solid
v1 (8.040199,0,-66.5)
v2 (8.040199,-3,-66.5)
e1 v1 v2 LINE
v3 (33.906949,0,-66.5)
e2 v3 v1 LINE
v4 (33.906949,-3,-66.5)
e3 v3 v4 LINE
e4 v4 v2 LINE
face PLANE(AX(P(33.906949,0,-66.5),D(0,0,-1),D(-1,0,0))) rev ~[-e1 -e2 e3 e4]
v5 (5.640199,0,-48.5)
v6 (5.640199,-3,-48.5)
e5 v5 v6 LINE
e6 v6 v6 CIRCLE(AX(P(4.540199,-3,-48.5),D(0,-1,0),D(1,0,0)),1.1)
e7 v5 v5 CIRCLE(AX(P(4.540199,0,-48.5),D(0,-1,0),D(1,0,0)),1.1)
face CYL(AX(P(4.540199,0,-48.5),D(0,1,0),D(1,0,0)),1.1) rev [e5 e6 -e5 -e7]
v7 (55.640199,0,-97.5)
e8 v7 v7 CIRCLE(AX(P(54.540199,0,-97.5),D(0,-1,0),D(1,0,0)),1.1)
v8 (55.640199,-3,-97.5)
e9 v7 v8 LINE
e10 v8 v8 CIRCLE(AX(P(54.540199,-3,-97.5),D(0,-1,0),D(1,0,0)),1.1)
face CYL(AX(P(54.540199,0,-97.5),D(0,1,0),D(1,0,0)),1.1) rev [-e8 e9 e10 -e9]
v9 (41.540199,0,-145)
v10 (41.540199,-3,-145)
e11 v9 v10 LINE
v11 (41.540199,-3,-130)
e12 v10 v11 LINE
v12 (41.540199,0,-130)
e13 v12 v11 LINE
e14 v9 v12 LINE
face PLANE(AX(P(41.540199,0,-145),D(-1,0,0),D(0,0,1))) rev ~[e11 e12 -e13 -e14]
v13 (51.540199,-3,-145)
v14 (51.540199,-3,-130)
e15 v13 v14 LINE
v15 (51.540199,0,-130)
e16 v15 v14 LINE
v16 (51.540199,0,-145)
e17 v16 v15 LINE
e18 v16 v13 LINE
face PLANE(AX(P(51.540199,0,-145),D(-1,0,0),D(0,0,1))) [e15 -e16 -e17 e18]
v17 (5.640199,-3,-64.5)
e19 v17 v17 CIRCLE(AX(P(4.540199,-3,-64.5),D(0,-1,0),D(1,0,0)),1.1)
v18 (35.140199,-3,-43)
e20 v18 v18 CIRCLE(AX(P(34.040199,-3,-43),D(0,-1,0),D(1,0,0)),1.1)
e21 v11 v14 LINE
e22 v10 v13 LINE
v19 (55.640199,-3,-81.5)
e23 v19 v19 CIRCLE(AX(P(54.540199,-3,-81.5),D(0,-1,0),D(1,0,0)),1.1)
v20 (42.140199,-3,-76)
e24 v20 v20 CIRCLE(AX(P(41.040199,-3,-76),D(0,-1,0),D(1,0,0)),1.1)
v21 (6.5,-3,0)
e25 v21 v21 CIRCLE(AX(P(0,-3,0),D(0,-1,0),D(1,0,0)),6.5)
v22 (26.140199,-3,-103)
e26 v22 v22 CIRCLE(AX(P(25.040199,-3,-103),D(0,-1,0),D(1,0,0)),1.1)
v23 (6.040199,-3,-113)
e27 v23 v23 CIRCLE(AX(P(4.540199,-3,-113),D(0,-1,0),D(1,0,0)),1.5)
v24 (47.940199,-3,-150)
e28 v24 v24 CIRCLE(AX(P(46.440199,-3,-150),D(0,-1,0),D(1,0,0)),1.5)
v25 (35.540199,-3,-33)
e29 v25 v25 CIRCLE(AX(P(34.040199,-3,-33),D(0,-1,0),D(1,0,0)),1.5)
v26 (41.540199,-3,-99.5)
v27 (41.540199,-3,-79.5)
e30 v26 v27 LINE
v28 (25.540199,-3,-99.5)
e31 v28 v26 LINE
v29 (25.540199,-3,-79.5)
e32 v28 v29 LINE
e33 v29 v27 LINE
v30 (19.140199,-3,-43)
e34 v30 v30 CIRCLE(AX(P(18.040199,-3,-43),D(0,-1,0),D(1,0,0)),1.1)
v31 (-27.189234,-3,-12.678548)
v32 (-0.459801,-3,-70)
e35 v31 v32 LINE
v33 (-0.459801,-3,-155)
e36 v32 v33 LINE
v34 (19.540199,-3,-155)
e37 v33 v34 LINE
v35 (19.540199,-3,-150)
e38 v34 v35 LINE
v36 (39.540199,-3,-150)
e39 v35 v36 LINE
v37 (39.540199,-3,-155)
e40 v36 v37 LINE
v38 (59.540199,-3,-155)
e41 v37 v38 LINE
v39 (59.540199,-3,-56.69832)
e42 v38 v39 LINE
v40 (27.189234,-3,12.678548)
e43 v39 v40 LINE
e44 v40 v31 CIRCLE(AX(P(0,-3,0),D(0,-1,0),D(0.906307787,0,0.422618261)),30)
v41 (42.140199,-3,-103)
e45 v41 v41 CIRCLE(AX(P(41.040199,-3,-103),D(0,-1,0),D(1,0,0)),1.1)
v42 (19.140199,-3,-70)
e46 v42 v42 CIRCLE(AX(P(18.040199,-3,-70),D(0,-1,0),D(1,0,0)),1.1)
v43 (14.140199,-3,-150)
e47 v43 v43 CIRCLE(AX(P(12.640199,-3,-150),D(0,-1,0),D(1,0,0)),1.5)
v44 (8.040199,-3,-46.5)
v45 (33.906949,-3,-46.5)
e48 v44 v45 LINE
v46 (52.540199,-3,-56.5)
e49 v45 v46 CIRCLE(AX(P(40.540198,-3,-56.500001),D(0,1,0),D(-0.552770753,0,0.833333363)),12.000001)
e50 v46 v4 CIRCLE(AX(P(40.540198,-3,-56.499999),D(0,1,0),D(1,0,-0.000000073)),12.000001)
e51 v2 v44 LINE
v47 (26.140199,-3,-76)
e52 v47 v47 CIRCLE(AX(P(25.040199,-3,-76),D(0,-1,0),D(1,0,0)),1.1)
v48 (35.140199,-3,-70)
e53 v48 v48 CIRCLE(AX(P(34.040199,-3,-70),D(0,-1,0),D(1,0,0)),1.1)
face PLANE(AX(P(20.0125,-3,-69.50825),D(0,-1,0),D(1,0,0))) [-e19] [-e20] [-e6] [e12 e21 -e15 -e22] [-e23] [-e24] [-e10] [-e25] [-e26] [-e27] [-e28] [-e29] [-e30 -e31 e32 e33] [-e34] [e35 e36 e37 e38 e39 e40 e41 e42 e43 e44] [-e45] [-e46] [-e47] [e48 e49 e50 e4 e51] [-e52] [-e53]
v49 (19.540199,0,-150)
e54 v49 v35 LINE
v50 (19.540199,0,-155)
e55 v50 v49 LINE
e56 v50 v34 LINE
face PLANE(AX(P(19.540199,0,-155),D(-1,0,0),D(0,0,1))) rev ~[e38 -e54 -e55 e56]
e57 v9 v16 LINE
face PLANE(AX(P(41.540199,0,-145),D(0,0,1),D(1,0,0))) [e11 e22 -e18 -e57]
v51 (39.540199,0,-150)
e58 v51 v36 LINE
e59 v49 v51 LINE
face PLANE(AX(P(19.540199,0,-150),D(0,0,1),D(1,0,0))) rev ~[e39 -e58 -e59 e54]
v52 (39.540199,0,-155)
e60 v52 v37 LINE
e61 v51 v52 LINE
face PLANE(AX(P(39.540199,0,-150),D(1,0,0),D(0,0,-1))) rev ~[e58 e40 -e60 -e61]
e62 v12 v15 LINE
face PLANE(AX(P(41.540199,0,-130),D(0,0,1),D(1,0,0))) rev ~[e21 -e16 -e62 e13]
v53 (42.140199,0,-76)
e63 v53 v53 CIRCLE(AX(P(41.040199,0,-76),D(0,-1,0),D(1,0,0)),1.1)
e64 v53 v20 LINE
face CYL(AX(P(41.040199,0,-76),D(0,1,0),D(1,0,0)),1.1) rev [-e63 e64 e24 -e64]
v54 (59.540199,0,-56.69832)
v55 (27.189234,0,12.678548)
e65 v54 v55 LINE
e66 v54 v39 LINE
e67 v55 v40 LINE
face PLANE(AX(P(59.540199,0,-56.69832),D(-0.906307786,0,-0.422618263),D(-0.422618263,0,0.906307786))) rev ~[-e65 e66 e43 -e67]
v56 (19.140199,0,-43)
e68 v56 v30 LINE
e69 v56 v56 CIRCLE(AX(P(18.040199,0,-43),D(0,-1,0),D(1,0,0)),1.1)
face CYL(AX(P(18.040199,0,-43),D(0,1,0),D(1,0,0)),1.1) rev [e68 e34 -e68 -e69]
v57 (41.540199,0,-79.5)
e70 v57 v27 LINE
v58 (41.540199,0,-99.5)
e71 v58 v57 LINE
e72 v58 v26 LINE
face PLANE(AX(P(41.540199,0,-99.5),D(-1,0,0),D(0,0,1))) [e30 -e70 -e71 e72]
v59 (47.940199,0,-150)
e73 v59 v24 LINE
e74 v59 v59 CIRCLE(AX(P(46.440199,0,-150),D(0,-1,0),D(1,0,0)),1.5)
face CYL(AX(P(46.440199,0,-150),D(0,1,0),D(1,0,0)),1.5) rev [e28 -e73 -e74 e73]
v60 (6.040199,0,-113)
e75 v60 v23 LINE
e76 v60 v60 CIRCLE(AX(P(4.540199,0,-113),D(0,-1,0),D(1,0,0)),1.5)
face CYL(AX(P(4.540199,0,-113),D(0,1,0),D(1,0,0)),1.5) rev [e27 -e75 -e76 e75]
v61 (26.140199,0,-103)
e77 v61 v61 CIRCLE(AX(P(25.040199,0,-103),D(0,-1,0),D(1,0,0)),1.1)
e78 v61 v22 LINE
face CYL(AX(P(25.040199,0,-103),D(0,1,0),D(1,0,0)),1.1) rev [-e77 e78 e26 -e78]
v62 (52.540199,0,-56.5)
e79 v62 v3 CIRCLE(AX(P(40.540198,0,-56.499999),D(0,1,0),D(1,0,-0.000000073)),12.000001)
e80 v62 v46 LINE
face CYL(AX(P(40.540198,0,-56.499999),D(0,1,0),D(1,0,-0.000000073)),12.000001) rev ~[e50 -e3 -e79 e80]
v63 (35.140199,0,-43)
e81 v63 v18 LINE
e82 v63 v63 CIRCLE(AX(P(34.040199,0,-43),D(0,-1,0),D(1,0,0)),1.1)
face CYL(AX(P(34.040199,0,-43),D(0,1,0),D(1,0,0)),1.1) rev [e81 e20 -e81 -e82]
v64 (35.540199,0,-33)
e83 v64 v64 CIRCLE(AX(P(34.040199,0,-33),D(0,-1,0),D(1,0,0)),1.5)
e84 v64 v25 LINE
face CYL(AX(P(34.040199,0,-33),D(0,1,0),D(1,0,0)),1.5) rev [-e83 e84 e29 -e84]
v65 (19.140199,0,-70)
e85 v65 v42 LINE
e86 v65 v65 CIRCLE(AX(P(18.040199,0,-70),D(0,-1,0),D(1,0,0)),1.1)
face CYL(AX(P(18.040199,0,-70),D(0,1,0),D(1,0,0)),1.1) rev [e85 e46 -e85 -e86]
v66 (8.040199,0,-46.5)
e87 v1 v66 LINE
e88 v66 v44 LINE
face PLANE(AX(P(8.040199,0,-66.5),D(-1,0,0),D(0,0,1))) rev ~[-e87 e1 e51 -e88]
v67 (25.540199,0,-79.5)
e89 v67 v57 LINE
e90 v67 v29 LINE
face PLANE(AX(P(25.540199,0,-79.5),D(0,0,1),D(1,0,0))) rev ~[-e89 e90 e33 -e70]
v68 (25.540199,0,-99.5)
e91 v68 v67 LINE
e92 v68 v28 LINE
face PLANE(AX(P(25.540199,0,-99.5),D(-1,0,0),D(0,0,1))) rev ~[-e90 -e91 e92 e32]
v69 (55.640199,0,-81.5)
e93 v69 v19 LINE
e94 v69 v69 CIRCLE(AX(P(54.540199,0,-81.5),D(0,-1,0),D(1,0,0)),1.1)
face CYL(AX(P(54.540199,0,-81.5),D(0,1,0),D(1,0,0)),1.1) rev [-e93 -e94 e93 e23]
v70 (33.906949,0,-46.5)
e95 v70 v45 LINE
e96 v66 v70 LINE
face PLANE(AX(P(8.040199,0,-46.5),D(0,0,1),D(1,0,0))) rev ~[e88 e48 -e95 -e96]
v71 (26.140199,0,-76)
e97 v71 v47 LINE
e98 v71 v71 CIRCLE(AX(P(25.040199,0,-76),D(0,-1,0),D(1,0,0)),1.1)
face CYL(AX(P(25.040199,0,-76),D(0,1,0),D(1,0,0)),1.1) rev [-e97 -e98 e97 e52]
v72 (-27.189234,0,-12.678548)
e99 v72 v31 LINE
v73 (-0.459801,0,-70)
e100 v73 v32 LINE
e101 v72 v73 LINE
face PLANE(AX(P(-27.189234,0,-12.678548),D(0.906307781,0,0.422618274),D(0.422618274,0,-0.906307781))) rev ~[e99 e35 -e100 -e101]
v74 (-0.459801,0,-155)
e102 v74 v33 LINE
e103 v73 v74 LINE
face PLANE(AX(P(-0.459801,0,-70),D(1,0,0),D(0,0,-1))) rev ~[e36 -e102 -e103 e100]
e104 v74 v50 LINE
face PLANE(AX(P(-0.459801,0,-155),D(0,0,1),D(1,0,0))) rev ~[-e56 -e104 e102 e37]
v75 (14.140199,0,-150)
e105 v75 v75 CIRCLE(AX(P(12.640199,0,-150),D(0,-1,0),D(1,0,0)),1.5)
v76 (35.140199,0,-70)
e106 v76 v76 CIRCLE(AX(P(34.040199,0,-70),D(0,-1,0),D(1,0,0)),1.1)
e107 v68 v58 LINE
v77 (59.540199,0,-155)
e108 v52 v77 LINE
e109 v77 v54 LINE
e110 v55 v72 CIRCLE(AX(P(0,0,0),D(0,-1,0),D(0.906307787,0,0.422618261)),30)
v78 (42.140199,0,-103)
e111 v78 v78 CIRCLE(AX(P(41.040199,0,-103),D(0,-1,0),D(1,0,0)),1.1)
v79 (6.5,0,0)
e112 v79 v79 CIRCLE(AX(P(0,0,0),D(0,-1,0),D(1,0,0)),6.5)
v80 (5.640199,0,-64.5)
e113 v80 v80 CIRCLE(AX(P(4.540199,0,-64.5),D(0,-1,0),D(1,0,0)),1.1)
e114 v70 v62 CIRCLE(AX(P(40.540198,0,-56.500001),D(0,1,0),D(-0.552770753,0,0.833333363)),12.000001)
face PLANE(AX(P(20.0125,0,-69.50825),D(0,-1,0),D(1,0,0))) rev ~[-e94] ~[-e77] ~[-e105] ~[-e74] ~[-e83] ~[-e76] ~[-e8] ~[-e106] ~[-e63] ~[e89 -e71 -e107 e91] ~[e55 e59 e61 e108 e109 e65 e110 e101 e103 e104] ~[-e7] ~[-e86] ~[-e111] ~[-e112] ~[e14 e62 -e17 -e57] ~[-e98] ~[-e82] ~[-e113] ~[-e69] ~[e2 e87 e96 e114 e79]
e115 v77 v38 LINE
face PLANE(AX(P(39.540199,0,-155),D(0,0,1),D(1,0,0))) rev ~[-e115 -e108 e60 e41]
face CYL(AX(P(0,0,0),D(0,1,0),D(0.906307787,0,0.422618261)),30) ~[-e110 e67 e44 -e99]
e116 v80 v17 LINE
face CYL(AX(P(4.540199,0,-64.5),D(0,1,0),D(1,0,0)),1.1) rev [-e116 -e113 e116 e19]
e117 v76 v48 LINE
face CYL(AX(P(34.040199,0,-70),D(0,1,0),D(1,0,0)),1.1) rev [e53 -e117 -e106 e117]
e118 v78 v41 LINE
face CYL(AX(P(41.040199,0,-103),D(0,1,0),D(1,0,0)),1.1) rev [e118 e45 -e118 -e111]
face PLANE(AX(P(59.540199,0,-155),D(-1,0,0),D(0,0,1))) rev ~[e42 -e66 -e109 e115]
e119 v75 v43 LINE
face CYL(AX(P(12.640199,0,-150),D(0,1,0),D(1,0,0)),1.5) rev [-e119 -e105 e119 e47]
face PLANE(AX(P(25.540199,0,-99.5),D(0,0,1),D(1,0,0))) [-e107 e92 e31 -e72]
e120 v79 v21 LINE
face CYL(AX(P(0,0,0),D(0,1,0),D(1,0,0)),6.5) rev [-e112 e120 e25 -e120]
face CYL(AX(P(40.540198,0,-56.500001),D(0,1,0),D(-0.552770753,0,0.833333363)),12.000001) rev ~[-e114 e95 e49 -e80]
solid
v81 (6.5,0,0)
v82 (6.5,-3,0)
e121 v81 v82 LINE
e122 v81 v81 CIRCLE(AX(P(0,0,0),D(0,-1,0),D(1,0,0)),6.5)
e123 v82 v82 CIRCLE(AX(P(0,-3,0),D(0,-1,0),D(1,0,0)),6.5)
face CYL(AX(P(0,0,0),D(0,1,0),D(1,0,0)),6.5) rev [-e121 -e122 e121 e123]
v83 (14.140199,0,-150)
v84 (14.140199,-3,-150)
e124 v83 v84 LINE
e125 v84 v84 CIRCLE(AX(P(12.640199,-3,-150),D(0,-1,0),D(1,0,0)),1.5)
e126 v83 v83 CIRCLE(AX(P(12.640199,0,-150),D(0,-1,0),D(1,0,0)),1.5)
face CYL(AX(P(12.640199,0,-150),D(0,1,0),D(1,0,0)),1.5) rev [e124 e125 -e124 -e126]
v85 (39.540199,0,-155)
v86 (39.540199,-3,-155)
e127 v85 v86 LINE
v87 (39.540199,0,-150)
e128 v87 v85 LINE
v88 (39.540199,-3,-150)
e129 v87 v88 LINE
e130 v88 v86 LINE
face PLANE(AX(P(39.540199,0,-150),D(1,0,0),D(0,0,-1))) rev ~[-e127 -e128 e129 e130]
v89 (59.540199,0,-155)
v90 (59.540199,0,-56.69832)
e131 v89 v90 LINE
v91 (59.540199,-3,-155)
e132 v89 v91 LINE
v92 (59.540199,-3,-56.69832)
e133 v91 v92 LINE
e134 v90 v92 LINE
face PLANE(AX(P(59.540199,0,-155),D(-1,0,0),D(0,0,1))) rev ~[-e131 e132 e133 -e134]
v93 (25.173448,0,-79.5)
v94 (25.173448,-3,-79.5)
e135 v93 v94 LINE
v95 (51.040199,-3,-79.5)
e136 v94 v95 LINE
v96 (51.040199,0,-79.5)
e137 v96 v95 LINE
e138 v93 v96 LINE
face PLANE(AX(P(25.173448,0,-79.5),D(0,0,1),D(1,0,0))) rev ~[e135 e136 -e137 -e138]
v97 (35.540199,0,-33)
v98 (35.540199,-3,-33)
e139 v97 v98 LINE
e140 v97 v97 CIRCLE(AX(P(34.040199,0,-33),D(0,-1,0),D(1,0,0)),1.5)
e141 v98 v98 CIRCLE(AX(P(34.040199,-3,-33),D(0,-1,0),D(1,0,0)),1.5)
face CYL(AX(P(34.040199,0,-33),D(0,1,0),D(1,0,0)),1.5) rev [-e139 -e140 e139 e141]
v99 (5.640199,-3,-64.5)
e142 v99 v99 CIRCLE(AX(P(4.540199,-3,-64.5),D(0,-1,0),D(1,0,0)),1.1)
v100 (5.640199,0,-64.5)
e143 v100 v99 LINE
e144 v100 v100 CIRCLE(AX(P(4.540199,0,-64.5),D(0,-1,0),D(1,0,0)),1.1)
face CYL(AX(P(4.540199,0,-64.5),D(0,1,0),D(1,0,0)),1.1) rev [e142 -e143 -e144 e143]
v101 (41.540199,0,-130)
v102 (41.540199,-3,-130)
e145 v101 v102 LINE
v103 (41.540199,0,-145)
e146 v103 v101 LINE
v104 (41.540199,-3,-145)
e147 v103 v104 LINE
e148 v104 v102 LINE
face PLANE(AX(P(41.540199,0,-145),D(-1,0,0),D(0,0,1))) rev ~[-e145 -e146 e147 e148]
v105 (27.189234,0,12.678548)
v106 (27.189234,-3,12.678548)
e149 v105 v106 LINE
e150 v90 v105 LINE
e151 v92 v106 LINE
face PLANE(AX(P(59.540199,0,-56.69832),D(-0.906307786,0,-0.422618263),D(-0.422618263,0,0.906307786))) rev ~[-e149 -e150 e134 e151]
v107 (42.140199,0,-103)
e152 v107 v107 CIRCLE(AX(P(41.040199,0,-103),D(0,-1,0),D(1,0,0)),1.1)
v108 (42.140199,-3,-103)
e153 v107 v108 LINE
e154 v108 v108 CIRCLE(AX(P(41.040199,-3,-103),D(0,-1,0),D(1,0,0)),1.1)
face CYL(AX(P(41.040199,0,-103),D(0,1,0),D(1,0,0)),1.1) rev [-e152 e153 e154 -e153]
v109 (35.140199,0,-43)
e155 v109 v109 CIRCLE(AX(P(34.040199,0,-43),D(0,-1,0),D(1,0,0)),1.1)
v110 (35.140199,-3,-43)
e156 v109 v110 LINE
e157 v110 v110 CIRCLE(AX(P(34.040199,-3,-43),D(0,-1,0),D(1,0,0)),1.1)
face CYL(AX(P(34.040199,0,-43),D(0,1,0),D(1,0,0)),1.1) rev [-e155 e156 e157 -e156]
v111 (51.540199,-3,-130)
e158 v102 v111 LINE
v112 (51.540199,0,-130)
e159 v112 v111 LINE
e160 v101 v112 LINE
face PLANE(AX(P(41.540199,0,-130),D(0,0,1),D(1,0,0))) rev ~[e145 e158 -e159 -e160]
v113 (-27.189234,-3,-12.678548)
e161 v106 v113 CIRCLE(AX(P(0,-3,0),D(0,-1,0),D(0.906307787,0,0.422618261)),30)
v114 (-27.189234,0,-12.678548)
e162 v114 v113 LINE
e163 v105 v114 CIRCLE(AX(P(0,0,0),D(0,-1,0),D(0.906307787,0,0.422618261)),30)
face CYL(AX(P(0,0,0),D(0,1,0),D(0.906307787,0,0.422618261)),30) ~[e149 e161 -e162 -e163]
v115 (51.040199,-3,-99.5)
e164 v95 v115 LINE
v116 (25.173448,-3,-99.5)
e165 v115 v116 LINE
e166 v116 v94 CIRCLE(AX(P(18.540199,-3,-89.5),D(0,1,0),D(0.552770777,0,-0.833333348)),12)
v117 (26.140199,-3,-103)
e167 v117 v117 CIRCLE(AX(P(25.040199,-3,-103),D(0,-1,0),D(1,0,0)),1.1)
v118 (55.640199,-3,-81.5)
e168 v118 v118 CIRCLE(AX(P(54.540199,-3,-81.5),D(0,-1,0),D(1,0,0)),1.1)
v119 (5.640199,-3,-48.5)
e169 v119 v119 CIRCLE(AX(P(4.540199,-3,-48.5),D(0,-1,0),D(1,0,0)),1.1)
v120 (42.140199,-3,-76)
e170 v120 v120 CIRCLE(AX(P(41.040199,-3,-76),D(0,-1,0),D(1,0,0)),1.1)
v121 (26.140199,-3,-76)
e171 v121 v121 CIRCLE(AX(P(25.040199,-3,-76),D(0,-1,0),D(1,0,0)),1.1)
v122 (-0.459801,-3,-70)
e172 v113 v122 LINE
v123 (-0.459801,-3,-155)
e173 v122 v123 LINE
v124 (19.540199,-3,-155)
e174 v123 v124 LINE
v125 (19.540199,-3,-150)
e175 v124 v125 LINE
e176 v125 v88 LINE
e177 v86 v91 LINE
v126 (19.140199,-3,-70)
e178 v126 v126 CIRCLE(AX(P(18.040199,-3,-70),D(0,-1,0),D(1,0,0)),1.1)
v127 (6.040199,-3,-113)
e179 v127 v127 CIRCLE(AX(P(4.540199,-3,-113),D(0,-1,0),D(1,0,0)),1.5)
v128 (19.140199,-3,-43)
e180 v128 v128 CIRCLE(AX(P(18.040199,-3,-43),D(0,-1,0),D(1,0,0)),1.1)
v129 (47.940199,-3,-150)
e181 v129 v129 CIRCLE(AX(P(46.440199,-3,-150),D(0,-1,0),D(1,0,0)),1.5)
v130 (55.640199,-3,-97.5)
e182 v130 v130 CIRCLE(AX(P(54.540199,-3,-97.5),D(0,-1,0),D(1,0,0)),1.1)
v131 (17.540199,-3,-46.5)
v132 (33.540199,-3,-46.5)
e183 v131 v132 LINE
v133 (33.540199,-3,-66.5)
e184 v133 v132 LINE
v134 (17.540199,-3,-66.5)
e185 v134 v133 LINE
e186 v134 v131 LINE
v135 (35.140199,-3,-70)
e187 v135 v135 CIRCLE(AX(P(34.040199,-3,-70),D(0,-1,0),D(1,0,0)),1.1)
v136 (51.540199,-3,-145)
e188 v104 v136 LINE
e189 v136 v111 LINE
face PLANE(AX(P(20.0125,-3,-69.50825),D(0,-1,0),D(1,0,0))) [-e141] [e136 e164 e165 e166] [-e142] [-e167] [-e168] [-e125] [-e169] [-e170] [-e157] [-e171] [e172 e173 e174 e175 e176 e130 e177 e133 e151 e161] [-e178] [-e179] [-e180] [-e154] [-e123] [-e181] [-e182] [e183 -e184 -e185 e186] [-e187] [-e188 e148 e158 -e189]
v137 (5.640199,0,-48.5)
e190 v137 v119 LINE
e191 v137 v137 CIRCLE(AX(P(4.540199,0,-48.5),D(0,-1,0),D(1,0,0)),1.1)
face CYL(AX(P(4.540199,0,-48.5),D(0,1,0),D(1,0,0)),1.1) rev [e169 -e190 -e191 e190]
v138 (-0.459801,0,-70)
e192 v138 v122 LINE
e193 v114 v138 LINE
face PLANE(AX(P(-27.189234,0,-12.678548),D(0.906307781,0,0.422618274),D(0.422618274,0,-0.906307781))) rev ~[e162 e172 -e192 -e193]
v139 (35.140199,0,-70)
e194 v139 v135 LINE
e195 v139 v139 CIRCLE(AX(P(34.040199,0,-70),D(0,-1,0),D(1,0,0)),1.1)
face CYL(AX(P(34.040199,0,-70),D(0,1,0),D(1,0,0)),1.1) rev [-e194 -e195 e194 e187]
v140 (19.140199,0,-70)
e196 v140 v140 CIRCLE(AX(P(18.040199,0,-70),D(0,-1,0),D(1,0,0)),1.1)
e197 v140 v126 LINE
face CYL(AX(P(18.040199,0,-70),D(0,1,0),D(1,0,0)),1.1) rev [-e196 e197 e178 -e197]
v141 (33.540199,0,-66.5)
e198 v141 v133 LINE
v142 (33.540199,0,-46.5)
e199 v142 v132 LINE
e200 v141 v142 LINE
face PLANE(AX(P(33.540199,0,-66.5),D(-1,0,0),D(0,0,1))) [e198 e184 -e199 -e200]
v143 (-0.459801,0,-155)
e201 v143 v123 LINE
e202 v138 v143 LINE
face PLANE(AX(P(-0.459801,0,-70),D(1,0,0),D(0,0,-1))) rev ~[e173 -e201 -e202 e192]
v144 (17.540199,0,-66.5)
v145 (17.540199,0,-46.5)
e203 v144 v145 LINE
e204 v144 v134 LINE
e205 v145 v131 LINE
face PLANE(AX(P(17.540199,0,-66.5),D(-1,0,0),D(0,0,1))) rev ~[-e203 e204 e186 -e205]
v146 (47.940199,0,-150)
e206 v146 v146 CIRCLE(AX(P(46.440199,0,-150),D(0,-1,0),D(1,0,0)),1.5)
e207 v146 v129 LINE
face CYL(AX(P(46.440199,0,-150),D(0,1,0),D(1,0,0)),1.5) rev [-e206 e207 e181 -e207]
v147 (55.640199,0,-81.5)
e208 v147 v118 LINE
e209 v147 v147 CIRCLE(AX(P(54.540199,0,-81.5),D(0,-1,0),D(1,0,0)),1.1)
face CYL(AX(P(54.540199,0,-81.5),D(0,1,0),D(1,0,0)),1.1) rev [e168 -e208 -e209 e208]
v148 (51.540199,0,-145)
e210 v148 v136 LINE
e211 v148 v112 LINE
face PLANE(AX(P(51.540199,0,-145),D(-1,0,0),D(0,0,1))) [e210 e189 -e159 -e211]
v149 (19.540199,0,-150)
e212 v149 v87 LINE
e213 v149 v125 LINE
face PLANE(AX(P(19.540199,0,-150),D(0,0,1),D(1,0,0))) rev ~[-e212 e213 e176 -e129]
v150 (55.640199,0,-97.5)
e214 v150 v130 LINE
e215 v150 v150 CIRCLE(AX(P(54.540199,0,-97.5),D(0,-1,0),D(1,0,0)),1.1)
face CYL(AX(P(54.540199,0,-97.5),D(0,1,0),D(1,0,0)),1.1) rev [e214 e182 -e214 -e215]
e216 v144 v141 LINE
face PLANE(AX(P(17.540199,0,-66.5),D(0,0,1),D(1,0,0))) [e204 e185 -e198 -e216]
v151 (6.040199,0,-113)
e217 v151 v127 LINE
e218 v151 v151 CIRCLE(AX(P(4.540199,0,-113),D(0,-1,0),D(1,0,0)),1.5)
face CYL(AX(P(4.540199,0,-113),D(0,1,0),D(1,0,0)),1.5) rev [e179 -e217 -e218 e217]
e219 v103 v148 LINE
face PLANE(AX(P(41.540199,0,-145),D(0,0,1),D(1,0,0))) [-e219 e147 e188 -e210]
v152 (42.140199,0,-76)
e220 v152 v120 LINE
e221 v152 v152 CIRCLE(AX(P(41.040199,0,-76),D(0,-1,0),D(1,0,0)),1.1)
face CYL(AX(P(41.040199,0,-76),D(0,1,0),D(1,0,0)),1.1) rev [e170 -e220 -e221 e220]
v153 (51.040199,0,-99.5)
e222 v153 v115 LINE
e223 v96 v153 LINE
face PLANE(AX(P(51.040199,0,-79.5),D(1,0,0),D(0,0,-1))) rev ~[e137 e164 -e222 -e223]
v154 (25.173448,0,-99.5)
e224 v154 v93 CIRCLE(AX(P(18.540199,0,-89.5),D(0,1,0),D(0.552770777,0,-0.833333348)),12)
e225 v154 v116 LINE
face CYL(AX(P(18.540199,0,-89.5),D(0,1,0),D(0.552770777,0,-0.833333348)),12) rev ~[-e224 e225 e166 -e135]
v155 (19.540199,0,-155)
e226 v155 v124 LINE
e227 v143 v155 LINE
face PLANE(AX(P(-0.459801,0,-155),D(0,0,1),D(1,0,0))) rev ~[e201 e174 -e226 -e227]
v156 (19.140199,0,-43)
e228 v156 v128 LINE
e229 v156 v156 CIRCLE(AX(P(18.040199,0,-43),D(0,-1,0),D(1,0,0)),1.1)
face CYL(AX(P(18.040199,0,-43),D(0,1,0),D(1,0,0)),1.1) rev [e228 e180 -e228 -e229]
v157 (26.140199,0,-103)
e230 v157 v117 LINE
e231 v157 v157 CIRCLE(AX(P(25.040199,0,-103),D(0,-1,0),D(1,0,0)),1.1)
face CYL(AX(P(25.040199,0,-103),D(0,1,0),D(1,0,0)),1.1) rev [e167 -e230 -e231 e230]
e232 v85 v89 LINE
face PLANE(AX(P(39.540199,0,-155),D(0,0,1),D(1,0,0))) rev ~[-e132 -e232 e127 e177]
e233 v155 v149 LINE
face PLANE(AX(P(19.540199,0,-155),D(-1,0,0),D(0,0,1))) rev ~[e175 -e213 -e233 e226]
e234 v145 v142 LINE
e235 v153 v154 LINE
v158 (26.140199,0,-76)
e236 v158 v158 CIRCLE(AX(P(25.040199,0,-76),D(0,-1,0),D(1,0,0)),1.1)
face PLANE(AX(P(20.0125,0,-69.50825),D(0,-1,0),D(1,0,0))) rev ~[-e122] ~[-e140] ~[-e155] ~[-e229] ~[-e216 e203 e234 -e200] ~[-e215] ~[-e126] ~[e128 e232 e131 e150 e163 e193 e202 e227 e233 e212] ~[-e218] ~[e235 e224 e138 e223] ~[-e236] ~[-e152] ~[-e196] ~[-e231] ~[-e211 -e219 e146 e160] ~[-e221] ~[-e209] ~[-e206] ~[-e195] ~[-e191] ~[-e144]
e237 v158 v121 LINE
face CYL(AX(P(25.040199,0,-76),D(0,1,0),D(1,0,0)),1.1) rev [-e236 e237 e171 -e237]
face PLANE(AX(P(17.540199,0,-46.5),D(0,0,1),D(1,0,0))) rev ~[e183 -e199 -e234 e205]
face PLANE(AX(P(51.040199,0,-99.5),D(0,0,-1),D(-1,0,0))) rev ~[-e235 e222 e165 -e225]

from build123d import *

# Parameters (mm, degrees)
F0_R     = 1.5
F0_R_2   = 1.1
F0_W     = 10
F0_H     = 15
F0_R_3   = 6.5
F0_W_2   = 16
F0_H_2   = 20
F2_DEPTH = 3
F1_R     = 1.5
F1_R_2   = 1.1
F1_W     = 10
F1_H     = 15
F1_W_2   = 16
F1_H_2   = 20
F1_R_3   = 6.5
F3_DEPTH = 3


with BuildPart() as f2:
    # F0 (on Front) → F2 (new body)
    with BuildSketch(Plane.XZ):
        with BuildLine():
            ThreePointArc((27.189234, 12.678548), (-12.678548, 27.189234), (-27.189234, -12.678548))
            Line((-27.189234, -12.678548), (-0.459801, -70))
            Line((-0.459801, -70), (-0.459801, -150))
            Line((-0.459801, -150), (-0.459801, -155))
            Line((-0.459801, -155), (19.540199, -155))
            Line((19.540199, -155), (19.540199, -150))
            Line((19.540199, -150), (39.540199, -150))
            Line((39.540199, -150), (39.540199, -155))
            Line((39.540199, -155), (59.540199, -155))
            Line((59.540199, -155), (59.540199, -150))
            Line((59.540199, -150), (59.540199, -56.69832))
            Line((59.540199, -56.69832), (27.189234, 12.678548))
        make_face()
        with Locations((12.640199, -150)):
            Circle(F0_R, mode=Mode.SUBTRACT)
        with Locations((4.540199, -113)):
            Circle(F0_R, mode=Mode.SUBTRACT)
        with Locations((4.540199, -64.5)):
            Circle(F0_R_2, mode=Mode.SUBTRACT)
        with Locations((46.440199, -150)):
            Circle(F0_R, mode=Mode.SUBTRACT)
        with Locations((46.540199, -137.5)):
            Rectangle(F0_W, F0_H, mode=Mode.SUBTRACT)
        with Locations((25.040199, -103)):
            Circle(F0_R_2, mode=Mode.SUBTRACT)
        with BuildLine():
            ThreePointArc((25.173448, -99.5), (6.540199, -89.5), (25.173448, -79.5))
            Line((25.173448, -79.5), (51.040199, -79.5))
            Line((51.040199, -79.5), (51.040199, -99.5))
            Line((51.040199, -99.5), (25.173448, -99.5))
        make_face(mode=Mode.SUBTRACT)
        with Locations((25.040199, -76)):
            Circle(F0_R_2, mode=Mode.SUBTRACT)
        with Locations((18.040199, -70)):
            Circle(F0_R_2, mode=Mode.SUBTRACT)
        with Locations((34.040199, -70)):
            Circle(F0_R_2, mode=Mode.SUBTRACT)
        with Locations((41.040199, -103)):
            Circle(F0_R_2, mode=Mode.SUBTRACT)
        with Locations((54.540199, -97.5)):
            Circle(F0_R_2, mode=Mode.SUBTRACT)
        with Locations((41.040199, -76)):
            Circle(F0_R_2, mode=Mode.SUBTRACT)
        with Locations((54.540199, -81.5)):
            Circle(F0_R_2, mode=Mode.SUBTRACT)
        with Locations((4.540199, -48.5)):
            Circle(F0_R_2, mode=Mode.SUBTRACT)
        Circle(F0_R_3, mode=Mode.SUBTRACT)
        with Locations((25.540199, -56.5)):
            Rectangle(F0_W_2, F0_H_2, mode=Mode.SUBTRACT)
        with Locations((18.040199, -43)):
            Circle(F0_R_2, mode=Mode.SUBTRACT)
        with Locations((34.040199, -43)):
            Circle(F0_R_2, mode=Mode.SUBTRACT)
        with Locations((34.040199, -33)):
            Circle(F0_R, mode=Mode.SUBTRACT)
    extrude(amount=F2_DEPTH)


with BuildPart() as f3:
    # F1 (on Front) → F3 (new body)
    with BuildSketch(Plane.XZ):
        with BuildLine():
            ThreePointArc((27.189234, 12.678548), (-12.678548, 27.189234), (-27.189234, -12.678548))
            Line((-27.189234, -12.678548), (-0.459801, -70))
            Line((-0.459801, -70), (-0.459801, -150))
            Line((-0.459801, -150), (-0.459801, -155))
            Line((-0.459801, -155), (19.540199, -155))
            Line((19.540199, -155), (19.540199, -150))
            Line((19.540199, -150), (39.540199, -150))
            Line((39.540199, -150), (39.540199, -155))
            Line((39.540199, -155), (59.540199, -155))
            Line((59.540199, -155), (59.540199, -150))
            Line((59.540199, -150), (59.540199, -56.69832))
            Line((59.540199, -56.69832), (27.189234, 12.678548))
        make_face()
        with Locations((12.640199, -150)):
            Circle(F1_R, mode=Mode.SUBTRACT)
        with Locations((4.540199, -113)):
            Circle(F1_R, mode=Mode.SUBTRACT)
        with Locations((4.540199, -64.5)):
            Circle(F1_R_2, mode=Mode.SUBTRACT)
        with Locations((46.440199, -150)):
            Circle(F1_R, mode=Mode.SUBTRACT)
        with Locations((46.540199, -137.5)):
            Rectangle(F1_W, F1_H, mode=Mode.SUBTRACT)
        with Locations((25.040199, -103)):
            Circle(F1_R_2, mode=Mode.SUBTRACT)
        with Locations((33.540199, -89.5)):
            Rectangle(F1_W_2, F1_H_2, mode=Mode.SUBTRACT)
        with Locations((25.040199, -76)):
            Circle(F1_R_2, mode=Mode.SUBTRACT)
        with Locations((18.040199, -70)):
            Circle(F1_R_2, mode=Mode.SUBTRACT)
        with Locations((34.040199, -70)):
            Circle(F1_R_2, mode=Mode.SUBTRACT)
        with Locations((41.040199, -103)):
            Circle(F1_R_2, mode=Mode.SUBTRACT)
        with Locations((54.540199, -97.5)):
            Circle(F1_R_2, mode=Mode.SUBTRACT)
        with Locations((41.040199, -76)):
            Circle(F1_R_2, mode=Mode.SUBTRACT)
        with Locations((54.540199, -81.5)):
            Circle(F1_R_2, mode=Mode.SUBTRACT)
        with Locations((4.540199, -48.5)):
            Circle(F1_R_2, mode=Mode.SUBTRACT)
        Circle(F1_R_3, mode=Mode.SUBTRACT)
        with Locations((18.040199, -43)):
            Circle(F1_R_2, mode=Mode.SUBTRACT)
        with BuildLine():
            ThreePointArc((33.906949, -46.5), (46.214747, -45.926472), (52.540199, -56.5))
            ThreePointArc((52.540199, -56.5), (46.214747, -67.073528), (33.906949, -66.5))
            Line((33.906949, -66.5), (8.040199, -66.5))
            Line((8.040199, -66.5), (8.040199, -46.5))
            Line((8.040199, -46.5), (33.906949, -46.5))
        make_face(mode=Mode.SUBTRACT)
        with Locations((34.040199, -43)):
            Circle(F1_R_2, mode=Mode.SUBTRACT)
        with Locations((34.040199, -33)):
            Circle(F1_R, mode=Mode.SUBTRACT)
    extrude(amount=F3_DEPTH)


solid = Compound([f2.part, f3.part])
